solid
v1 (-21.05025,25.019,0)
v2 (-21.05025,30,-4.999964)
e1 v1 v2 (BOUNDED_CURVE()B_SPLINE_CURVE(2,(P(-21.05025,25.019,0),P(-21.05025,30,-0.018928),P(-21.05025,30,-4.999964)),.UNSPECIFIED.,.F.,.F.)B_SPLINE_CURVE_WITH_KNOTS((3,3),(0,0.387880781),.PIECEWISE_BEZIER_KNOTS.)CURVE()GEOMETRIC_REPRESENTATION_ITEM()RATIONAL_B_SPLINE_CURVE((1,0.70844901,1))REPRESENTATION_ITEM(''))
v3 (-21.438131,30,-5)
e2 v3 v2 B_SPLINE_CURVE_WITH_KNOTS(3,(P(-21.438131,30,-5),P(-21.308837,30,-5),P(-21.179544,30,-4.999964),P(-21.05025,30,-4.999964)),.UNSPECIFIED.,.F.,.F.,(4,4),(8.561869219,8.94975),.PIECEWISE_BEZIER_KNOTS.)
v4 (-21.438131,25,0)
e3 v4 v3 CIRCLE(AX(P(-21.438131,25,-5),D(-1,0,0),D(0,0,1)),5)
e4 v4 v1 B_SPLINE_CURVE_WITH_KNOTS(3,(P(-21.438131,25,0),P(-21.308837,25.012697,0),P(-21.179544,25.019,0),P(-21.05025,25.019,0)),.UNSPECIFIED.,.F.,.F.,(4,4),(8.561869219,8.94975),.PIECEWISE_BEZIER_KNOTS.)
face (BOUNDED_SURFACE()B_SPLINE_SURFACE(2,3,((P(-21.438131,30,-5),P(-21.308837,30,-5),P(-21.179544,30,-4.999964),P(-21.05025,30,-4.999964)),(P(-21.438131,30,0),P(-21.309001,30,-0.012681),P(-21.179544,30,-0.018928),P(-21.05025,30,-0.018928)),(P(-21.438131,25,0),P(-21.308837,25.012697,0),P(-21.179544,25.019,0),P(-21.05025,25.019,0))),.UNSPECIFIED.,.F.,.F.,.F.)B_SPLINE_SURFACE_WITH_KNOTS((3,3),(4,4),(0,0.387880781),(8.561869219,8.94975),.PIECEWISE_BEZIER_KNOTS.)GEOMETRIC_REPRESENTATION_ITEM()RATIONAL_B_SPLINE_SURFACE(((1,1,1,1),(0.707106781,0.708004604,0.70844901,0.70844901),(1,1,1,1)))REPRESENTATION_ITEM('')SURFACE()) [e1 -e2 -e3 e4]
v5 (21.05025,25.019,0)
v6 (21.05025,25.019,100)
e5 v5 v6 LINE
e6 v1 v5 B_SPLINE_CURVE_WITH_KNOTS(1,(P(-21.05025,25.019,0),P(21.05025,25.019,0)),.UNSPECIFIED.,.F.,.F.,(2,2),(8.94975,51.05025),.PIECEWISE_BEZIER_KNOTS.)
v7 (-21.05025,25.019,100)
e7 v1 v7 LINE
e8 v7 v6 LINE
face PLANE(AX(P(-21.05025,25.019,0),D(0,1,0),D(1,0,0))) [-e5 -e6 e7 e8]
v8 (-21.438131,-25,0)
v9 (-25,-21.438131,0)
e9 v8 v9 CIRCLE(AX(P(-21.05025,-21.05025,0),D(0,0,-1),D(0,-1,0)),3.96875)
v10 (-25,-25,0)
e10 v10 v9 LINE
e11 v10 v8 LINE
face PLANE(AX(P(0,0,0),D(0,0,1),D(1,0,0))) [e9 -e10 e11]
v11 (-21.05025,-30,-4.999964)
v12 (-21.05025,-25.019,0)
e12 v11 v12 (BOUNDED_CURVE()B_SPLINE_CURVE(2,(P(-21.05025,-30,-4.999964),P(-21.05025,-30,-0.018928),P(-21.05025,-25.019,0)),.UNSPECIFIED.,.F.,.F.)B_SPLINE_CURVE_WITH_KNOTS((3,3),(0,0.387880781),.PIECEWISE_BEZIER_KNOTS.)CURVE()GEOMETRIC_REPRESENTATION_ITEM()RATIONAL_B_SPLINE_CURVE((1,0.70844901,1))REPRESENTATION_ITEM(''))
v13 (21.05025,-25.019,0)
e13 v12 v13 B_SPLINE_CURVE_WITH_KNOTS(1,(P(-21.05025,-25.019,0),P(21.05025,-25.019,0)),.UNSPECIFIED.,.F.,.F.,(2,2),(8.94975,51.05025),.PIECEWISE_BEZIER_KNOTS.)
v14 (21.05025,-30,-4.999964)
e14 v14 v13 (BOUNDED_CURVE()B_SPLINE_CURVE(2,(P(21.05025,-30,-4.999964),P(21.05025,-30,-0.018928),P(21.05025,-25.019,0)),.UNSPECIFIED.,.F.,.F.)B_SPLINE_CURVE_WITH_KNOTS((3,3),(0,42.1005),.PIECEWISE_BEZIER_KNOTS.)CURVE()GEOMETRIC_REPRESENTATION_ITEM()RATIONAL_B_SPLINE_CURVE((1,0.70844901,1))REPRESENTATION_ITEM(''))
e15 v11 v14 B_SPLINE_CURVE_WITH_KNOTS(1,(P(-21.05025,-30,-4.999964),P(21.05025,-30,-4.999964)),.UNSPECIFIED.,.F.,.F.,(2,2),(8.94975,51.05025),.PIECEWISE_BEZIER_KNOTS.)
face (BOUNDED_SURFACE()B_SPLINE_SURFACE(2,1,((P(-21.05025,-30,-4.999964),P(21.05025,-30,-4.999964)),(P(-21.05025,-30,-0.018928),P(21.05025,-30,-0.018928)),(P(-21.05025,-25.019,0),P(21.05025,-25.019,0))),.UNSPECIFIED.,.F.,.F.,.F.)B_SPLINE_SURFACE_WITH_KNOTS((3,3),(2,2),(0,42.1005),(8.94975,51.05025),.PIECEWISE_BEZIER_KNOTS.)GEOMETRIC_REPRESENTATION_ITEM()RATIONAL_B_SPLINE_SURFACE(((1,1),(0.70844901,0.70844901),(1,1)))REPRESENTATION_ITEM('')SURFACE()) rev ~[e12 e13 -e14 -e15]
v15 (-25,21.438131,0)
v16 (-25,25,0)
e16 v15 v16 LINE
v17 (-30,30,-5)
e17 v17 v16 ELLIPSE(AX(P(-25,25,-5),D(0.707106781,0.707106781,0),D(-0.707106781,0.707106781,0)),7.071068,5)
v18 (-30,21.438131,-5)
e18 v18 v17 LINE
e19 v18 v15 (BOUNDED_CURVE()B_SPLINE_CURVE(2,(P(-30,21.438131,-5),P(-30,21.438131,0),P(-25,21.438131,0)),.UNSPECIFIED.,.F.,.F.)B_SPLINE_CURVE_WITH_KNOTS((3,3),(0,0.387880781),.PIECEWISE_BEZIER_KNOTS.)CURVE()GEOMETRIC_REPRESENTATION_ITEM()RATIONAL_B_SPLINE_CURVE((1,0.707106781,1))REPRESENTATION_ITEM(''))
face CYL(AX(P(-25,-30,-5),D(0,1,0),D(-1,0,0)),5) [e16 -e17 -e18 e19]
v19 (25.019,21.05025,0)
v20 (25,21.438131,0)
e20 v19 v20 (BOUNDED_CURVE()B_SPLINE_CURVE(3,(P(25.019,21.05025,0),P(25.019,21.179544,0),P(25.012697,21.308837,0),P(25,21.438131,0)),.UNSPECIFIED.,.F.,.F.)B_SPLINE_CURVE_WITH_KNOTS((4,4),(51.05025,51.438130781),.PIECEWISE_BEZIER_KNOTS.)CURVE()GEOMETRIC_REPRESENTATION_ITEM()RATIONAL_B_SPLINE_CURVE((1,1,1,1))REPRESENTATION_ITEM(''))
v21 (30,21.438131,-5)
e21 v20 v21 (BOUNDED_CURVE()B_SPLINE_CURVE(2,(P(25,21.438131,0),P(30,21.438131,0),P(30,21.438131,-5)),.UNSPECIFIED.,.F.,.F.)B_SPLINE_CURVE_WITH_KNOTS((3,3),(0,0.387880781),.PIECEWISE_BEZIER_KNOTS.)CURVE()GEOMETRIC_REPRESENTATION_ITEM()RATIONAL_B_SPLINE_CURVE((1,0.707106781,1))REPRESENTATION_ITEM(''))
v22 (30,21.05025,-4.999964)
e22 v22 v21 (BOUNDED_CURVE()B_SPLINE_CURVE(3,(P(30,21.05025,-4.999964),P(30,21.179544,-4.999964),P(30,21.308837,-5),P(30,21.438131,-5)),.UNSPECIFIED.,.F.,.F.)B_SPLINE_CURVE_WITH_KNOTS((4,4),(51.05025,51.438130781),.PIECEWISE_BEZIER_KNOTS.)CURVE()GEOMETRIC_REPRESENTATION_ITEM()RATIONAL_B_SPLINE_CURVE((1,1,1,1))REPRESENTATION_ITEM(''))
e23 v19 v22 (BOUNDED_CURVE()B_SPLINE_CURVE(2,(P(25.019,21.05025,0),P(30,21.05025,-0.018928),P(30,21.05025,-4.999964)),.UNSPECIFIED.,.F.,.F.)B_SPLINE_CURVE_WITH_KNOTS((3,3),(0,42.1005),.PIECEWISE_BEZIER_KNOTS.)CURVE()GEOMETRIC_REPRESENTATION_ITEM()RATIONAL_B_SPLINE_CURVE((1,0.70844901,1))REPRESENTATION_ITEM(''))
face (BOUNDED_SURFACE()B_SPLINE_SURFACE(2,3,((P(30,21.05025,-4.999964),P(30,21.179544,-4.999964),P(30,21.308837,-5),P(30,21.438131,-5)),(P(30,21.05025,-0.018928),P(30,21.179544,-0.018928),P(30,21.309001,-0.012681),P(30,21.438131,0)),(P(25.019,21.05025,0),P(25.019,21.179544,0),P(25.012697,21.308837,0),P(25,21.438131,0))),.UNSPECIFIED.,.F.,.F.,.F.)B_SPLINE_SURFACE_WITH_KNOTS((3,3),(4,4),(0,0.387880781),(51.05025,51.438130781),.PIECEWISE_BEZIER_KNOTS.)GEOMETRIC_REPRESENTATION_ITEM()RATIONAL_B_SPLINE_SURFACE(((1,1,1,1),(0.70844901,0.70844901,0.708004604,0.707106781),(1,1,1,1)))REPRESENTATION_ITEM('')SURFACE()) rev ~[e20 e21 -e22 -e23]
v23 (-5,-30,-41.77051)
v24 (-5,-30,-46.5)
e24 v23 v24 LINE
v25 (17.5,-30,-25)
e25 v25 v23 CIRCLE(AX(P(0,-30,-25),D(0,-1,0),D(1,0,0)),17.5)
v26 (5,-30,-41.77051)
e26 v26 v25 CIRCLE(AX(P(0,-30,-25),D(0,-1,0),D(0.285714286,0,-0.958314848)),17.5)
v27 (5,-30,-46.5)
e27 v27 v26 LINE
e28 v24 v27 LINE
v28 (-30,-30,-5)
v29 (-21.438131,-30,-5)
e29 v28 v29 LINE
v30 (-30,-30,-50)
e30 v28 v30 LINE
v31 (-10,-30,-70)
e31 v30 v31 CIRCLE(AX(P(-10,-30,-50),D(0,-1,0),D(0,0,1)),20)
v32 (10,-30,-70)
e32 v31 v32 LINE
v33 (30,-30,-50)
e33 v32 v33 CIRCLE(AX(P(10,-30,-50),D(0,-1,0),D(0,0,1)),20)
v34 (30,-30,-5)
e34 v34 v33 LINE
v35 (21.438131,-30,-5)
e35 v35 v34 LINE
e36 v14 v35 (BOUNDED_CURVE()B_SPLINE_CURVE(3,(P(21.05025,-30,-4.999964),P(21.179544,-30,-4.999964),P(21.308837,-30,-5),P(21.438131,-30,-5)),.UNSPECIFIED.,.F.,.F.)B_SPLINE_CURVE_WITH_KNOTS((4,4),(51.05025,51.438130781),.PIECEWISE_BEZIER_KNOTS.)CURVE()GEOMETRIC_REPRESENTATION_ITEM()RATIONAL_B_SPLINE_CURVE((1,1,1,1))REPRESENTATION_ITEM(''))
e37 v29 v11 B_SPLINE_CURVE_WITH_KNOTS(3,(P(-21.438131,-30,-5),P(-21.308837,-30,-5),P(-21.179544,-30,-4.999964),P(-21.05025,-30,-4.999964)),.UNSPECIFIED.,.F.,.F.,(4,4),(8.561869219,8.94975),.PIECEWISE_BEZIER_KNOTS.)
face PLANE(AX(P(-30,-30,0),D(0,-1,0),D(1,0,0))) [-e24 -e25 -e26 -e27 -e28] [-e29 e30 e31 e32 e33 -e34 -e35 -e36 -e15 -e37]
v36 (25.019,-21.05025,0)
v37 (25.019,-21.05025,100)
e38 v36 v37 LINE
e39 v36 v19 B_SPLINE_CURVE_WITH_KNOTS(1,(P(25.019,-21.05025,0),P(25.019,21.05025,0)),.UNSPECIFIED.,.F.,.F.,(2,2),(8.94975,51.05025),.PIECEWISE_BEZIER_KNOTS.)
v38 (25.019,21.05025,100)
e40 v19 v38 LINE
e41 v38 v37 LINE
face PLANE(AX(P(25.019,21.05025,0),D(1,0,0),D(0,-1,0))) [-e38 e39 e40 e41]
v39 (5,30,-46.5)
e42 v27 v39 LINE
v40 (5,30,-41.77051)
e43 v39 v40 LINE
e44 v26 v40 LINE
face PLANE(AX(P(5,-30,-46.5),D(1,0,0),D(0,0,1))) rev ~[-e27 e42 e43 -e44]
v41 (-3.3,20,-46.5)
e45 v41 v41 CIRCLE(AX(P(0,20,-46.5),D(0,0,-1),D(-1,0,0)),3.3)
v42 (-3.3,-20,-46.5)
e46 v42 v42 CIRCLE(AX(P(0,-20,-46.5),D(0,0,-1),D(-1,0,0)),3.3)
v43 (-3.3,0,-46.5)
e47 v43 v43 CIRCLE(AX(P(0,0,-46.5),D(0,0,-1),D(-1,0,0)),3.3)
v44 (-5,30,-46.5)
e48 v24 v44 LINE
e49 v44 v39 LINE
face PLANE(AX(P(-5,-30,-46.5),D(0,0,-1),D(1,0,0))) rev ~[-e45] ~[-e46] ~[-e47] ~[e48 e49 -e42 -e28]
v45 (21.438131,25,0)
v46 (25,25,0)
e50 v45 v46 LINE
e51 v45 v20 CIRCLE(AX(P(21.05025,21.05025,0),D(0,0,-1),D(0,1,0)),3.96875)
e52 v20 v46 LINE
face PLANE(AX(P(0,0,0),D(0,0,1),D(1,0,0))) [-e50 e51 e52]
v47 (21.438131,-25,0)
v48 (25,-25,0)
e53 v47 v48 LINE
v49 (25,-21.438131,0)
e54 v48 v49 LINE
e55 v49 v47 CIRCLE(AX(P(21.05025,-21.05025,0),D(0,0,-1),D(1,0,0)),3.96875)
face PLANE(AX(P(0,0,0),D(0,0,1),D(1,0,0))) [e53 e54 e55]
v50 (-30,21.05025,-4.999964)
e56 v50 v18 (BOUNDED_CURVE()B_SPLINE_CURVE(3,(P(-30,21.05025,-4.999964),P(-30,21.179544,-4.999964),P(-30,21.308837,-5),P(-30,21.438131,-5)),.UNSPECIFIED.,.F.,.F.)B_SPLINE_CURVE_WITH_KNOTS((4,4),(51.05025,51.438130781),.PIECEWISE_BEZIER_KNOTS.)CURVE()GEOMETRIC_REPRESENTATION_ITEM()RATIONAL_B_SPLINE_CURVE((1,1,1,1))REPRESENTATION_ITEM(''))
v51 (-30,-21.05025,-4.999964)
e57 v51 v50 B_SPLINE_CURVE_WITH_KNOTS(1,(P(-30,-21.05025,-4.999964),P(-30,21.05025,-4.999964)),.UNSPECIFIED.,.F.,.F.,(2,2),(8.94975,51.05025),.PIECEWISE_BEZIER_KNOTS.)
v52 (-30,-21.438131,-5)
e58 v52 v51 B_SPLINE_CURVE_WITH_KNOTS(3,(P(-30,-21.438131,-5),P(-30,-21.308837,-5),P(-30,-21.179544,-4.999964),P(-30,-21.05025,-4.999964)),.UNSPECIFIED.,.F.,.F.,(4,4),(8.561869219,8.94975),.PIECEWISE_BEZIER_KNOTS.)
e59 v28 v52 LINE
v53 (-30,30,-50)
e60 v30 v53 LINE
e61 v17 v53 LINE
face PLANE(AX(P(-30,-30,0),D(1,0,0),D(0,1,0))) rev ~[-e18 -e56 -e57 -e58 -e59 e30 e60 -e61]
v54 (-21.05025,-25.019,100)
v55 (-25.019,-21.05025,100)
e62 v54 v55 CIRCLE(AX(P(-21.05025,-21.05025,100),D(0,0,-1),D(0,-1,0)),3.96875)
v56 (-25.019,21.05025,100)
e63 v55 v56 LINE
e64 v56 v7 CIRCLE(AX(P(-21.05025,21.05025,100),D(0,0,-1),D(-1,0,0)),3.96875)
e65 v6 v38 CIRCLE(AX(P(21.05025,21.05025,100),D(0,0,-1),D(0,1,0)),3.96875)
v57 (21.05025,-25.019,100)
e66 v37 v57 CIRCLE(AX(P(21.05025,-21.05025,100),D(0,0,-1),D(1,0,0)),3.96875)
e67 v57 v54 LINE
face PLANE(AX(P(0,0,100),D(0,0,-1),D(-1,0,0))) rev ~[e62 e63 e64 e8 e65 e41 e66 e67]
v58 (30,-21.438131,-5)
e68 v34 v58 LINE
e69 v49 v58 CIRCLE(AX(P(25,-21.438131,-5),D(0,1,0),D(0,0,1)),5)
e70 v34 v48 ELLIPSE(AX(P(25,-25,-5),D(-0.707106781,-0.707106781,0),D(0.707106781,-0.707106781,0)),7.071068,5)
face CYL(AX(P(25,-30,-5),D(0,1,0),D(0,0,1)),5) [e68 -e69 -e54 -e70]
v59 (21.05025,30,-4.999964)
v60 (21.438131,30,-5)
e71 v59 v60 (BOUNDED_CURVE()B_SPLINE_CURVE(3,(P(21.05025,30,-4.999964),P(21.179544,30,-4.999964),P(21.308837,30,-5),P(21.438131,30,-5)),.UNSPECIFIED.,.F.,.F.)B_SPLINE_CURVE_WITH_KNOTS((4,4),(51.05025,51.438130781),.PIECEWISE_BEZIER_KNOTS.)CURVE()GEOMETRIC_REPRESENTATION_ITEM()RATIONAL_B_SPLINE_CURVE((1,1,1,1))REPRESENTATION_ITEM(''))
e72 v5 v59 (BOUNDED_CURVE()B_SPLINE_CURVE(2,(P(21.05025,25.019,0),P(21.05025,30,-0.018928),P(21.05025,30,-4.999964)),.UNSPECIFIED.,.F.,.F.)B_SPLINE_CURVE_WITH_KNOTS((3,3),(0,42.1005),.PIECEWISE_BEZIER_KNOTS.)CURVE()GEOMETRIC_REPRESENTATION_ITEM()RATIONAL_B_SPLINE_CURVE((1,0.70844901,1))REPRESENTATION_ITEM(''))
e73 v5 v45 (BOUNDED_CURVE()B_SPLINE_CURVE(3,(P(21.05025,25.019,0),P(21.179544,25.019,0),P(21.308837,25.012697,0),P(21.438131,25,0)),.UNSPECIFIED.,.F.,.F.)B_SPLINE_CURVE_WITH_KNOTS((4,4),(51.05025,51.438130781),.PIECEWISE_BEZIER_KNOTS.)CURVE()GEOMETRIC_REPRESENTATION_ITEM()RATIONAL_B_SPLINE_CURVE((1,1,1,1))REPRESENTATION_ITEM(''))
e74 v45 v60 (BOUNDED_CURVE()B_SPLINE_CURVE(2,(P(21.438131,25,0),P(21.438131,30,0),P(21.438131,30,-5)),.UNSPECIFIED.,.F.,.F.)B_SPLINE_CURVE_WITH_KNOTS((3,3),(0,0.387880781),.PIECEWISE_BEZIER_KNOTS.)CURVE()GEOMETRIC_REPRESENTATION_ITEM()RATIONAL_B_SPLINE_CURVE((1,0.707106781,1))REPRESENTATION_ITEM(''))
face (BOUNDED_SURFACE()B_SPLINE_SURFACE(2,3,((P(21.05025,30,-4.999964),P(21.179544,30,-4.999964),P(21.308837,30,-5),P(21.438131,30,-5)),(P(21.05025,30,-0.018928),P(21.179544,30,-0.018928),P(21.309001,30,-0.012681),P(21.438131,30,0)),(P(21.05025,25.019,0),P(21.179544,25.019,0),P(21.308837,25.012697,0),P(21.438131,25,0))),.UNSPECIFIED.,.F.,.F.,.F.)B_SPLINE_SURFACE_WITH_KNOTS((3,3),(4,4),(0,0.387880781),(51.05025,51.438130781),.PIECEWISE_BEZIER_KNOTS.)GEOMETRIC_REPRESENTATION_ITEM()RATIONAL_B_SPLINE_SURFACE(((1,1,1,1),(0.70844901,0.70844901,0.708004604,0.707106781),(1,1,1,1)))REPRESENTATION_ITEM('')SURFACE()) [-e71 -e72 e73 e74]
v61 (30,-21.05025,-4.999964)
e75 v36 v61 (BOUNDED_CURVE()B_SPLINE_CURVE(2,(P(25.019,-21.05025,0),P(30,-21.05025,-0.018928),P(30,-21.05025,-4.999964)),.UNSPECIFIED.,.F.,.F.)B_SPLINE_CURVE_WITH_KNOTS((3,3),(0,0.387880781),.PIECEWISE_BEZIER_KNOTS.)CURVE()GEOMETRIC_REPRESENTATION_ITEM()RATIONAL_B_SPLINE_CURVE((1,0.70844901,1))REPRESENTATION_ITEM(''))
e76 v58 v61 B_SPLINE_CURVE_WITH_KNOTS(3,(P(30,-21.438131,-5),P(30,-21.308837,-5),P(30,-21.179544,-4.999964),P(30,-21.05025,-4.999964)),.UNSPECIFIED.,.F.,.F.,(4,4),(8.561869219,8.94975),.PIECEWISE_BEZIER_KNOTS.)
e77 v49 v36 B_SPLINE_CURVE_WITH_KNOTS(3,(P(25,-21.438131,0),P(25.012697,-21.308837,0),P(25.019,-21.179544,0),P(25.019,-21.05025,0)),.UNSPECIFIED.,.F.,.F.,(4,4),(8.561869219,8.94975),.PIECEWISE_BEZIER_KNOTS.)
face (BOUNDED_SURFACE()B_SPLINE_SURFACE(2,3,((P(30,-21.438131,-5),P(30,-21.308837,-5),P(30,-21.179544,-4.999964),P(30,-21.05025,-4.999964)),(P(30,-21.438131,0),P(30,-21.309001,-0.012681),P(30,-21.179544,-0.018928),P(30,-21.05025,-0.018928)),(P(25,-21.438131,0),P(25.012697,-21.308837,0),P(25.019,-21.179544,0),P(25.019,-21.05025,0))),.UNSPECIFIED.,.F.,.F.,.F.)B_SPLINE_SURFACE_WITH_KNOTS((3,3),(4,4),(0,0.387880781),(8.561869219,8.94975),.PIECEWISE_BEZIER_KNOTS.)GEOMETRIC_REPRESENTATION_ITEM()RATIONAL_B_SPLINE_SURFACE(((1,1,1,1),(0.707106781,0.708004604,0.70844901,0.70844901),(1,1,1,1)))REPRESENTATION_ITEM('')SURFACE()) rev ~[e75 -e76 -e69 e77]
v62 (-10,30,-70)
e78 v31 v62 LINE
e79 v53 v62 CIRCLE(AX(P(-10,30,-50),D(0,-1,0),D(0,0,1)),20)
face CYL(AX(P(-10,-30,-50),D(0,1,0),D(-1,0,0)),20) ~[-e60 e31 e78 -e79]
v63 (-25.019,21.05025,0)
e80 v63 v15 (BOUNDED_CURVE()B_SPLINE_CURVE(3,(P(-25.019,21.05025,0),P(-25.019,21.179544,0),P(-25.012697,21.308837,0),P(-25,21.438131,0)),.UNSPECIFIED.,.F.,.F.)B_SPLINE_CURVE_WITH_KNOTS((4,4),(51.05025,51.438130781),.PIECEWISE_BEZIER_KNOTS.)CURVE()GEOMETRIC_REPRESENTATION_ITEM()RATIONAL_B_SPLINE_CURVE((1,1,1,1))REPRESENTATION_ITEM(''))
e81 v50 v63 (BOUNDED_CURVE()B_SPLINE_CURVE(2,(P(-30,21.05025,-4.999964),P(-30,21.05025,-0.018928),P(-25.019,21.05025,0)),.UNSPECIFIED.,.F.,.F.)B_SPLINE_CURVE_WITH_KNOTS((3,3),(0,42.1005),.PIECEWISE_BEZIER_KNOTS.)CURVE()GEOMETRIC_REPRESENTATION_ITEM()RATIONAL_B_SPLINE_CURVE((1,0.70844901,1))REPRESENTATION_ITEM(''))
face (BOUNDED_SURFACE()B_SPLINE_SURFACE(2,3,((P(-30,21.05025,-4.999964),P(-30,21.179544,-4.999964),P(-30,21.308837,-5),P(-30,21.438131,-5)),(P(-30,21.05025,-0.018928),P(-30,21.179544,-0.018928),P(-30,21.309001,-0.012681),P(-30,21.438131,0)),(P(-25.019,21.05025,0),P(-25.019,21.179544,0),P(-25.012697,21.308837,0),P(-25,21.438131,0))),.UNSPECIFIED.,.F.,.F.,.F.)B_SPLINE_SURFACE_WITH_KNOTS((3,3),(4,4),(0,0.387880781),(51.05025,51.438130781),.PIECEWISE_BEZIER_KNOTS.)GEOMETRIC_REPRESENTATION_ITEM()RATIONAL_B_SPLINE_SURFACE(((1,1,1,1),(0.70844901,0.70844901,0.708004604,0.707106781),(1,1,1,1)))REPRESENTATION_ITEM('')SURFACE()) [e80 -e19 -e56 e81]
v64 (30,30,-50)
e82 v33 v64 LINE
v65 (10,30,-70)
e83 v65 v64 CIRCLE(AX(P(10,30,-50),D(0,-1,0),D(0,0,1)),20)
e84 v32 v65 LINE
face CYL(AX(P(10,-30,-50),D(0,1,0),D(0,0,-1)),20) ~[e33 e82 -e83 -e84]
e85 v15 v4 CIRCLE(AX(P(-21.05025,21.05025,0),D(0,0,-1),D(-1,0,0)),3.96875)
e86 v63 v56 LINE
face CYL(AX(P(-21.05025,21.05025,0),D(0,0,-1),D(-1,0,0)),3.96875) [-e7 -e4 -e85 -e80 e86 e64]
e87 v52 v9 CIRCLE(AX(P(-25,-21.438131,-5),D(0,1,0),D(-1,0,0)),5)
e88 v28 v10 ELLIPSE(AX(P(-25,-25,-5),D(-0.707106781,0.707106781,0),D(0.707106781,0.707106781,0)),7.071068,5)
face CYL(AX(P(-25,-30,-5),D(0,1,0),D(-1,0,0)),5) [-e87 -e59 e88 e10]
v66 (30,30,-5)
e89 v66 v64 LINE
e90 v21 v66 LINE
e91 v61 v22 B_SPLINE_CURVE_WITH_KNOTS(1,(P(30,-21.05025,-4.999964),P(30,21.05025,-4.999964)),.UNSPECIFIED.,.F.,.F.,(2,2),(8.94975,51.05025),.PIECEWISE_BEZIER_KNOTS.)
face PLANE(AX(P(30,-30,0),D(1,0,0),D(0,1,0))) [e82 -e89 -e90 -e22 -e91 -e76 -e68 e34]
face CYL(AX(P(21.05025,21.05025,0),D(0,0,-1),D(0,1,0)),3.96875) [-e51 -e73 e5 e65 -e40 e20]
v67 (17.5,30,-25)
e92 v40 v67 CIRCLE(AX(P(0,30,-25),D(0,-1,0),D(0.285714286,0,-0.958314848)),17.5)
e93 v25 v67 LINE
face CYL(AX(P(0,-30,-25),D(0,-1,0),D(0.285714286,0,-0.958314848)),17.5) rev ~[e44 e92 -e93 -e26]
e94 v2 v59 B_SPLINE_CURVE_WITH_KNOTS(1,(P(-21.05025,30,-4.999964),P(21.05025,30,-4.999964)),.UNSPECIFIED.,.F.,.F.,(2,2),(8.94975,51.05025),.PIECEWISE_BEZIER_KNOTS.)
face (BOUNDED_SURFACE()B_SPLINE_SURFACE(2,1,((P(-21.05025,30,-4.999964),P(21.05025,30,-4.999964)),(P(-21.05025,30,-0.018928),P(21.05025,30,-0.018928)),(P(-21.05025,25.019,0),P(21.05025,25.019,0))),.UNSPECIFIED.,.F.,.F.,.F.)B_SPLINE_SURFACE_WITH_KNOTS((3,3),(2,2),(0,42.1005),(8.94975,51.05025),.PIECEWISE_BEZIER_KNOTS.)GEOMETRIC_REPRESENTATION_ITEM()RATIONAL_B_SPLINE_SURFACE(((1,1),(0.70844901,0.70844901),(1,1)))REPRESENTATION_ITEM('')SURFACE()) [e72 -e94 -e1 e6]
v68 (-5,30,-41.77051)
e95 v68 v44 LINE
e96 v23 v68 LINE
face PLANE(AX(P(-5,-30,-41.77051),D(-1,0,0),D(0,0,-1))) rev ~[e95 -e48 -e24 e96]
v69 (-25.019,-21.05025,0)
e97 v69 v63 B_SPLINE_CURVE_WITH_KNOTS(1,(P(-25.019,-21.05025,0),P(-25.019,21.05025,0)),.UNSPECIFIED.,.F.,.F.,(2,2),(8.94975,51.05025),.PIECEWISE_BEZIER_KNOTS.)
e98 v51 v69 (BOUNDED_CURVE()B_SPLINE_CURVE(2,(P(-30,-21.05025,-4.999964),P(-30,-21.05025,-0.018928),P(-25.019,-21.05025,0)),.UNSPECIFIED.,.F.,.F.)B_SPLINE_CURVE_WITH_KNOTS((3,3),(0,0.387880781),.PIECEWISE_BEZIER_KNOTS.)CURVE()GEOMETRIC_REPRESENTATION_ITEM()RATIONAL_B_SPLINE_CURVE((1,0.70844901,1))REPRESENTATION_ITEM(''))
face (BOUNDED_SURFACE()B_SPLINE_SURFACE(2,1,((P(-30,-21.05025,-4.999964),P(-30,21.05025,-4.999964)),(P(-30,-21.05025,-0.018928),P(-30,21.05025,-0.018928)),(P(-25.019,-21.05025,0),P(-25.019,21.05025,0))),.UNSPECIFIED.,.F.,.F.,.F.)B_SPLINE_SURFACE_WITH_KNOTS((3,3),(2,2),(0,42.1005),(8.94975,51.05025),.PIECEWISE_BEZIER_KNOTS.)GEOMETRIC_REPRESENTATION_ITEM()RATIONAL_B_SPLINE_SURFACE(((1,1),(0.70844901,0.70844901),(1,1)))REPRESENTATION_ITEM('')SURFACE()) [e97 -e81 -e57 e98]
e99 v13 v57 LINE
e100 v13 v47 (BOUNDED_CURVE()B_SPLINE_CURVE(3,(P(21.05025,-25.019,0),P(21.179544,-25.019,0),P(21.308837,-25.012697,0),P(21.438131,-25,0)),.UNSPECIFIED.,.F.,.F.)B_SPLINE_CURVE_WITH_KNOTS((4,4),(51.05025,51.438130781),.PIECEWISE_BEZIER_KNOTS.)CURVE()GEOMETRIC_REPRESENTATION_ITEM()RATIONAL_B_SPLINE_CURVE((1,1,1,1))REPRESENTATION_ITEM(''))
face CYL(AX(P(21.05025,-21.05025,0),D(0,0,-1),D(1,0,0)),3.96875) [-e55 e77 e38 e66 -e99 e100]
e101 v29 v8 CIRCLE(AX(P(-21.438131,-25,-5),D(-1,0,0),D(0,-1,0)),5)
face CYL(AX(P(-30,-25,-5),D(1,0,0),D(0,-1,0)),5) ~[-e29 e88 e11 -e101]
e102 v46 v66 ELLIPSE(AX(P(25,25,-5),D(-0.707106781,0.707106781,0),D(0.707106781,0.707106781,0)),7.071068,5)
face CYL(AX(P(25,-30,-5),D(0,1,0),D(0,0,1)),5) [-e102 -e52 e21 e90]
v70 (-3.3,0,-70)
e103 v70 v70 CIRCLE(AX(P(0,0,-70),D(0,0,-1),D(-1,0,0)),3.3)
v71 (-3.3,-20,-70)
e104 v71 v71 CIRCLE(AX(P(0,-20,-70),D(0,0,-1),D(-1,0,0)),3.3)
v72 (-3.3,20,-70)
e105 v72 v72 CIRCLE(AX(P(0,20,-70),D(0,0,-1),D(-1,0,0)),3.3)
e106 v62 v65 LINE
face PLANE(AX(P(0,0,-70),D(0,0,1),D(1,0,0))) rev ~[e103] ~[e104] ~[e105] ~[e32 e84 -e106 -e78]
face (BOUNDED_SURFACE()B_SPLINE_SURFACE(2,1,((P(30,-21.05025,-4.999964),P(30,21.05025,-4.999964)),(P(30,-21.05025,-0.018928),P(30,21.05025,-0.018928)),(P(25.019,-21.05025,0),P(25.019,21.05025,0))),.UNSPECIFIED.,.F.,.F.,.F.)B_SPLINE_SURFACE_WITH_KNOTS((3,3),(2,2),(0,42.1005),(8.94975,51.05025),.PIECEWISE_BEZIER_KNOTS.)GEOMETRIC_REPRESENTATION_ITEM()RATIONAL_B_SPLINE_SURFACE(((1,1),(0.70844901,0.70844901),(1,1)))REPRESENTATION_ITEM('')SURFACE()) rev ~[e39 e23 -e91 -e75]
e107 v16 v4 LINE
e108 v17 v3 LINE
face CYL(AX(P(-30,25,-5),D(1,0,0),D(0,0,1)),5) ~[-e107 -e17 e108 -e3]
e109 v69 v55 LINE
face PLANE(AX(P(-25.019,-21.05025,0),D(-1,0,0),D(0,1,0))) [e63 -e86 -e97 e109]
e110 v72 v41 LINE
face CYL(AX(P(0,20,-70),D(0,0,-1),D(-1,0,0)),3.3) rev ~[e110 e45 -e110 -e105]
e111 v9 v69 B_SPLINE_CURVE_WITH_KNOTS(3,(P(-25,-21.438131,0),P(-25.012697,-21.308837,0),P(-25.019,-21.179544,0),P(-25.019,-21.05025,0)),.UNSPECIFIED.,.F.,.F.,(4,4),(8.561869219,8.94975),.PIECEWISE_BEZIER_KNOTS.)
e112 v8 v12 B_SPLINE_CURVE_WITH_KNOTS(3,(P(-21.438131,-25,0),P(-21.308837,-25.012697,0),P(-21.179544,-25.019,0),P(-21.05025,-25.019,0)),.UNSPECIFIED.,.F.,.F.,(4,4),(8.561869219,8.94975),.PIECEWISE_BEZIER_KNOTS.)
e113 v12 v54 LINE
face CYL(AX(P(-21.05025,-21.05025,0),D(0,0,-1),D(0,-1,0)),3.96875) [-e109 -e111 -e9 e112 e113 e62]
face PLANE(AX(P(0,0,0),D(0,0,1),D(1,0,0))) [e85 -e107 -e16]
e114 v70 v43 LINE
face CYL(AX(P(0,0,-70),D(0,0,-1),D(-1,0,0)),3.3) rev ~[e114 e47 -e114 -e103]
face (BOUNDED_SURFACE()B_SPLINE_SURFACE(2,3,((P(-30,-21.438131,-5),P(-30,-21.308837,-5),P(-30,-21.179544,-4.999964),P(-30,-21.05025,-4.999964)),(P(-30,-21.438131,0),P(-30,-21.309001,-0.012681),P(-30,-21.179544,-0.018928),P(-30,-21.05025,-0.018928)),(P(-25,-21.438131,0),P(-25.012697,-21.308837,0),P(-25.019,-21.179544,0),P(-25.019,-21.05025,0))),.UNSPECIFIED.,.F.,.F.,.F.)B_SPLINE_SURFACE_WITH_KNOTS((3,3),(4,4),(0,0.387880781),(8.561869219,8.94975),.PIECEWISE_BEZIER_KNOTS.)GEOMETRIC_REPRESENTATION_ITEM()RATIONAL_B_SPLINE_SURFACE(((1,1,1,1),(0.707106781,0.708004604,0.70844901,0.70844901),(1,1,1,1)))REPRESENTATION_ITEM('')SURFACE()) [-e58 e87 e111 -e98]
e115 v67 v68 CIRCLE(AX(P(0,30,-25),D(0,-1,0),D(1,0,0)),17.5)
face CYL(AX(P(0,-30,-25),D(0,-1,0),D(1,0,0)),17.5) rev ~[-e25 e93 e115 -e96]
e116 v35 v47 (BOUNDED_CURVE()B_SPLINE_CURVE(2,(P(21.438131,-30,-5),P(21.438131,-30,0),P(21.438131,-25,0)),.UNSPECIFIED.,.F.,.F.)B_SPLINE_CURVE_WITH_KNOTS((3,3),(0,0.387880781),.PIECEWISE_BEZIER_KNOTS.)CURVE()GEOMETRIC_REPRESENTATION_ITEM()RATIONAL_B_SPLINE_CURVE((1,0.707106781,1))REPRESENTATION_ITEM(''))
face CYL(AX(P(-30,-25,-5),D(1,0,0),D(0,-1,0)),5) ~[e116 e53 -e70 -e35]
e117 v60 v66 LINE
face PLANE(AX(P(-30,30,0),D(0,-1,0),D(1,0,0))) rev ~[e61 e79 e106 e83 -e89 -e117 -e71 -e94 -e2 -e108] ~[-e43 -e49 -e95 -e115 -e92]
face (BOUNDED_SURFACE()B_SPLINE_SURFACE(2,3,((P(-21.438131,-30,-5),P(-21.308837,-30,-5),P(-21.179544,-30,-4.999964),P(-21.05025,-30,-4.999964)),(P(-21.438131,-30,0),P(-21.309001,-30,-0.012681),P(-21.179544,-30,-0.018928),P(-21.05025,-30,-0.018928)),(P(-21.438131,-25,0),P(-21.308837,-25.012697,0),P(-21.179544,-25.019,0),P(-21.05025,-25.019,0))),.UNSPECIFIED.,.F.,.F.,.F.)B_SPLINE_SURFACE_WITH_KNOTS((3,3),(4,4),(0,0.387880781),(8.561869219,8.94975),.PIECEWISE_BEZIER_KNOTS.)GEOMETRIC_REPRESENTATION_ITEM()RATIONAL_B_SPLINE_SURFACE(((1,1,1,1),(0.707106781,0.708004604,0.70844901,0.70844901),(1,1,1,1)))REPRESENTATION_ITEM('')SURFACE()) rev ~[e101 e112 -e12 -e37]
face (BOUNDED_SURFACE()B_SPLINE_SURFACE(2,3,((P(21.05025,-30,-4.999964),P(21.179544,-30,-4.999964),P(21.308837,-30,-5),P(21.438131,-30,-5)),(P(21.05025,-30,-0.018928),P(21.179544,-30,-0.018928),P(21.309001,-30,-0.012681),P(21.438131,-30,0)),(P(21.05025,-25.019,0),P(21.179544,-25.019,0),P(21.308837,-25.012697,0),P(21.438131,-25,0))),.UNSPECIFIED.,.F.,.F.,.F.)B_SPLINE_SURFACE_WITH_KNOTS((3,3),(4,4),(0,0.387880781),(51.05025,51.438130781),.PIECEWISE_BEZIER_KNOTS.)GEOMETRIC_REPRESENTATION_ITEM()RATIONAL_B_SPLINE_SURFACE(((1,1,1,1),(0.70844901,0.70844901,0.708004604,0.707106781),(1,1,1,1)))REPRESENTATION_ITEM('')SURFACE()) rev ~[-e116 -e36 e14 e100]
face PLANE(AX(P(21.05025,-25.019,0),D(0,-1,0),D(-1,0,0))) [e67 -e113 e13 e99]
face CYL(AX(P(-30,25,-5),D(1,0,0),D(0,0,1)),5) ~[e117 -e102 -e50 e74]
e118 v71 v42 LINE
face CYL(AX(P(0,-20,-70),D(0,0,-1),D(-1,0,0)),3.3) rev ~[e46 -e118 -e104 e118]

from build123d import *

# Parameters (mm, degrees)
BOSS_EXTRUDE1_DEPTH       = 100
SKETCH2_W                 = 60
SKETCH2_H                 = 60
BOSS_EXTRUDE2_DEPTH       = 70
CUT_EXTRUDE2_DEPTH        = 60
CUT_EXTRUDE3_DEPTH        = 60
M6_CLEARANCE_HOLE1_REACH  = 177.214
M6_CLEARANCE_HOLE1_BORE_R = 3.3
FILLET1_R                 = 20
FILLET2_R                 = 5


with BuildPart() as part:
    # Sketch1 → Boss-Extrude1 (new body)
    with BuildSketch(Plane.XY):
        with BuildLine():
            Line((25.019, 21.05025), (25.019, -21.05025))
            ThreePointArc((25.019, -21.05025), (23.856580038, -23.856580038), (21.05025, -25.019))
            Line((21.05025, -25.019), (-21.05025, -25.019))
            ThreePointArc((-21.05025, -25.019), (-23.856580038, -23.856580038), (-25.019, -21.05025))
            Line((-25.019, -21.05025), (-25.019, 21.05025))
            ThreePointArc((-25.019, 21.05025), (-23.856580038, 23.856580038), (-21.05025, 25.019))
            Line((-21.05025, 25.019), (21.05025, 25.019))
            ThreePointArc((21.05025, 25.019), (23.856580038, 23.856580038), (25.019, 21.05025))
        make_face()
    extrude(amount=BOSS_EXTRUDE1_DEPTH)

    # Sketch2 → Boss-Extrude2 (add)
    with BuildSketch(Plane.XY):
        Rectangle(SKETCH2_W, SKETCH2_H)
    extrude(amount=-BOSS_EXTRUDE2_DEPTH)

    # Sketch3 → Cut-Extrude2 (cut)
    with BuildSketch(Plane.XZ.offset(30)):
        with BuildLine():
            ThreePointArc((17.5, -25), (-10.458250332, -10.9687848), (-5, -41.770509831))
            Line((-5, -41.770509831), (-5, -38.5))
            Line((-5, -38.5), (5, -38.5))
            Line((5, -38.5), (5, -41.770509831))
            ThreePointArc((5, -41.770509831), (14.0312152, -35.458250332), (17.5, -25))
        make_face()
        with BuildLine():
            Line((-5, -38.5), (-5, -41.770509831))
            ThreePointArc((-5, -41.770509831), (0, -42.5), (5, -41.770509831))
            Line((5, -41.770509831), (5, -38.5))
            Line((5, -38.5), (-5, -38.5))
        make_face()
    extrude(amount=-CUT_EXTRUDE2_DEPTH, mode=Mode.SUBTRACT)

    # Sketch3<7> → Cut-Extrude3 (cut)
    with BuildSketch(Plane.XZ.offset(30)):
        with BuildLine():
            Line((-5, -41.770509831), (-5, -46.5))
            Line((-5, -46.5), (5, -46.5))
            Line((5, -46.5), (5, -41.770509831))
            ThreePointArc((5, -41.770509831), (0, -42.5), (-5, -41.770509831))
        make_face()
    extrude(amount=-CUT_EXTRUDE3_DEPTH, mode=Mode.SUBTRACT)

    # M6 Clearance Hole1 bore → M6 Clearance Hole1 (cut, up to next)
    with BuildSketch(Plane(origin=(0, 0, -70), x_dir=(-1, 0, 0), z_dir=(0, 0, -1)), mode=Mode.PRIVATE) as m6_clearance_hole1_sk1:
        with Locations((0, 20)):
            Circle(M6_CLEARANCE_HOLE1_BORE_R)
    m6_clearance_hole1_tool1 = extrude(m6_clearance_hole1_sk1.sketch, amount=-M6_CLEARANCE_HOLE1_REACH, mode=Mode.PRIVATE) & part.part
    # M6 Clearance Hole1 bore → M6 Clearance Hole1 (cut, up to next)
    with BuildSketch(Plane(origin=(0, 0, -70), x_dir=(-1, 0, 0), z_dir=(0, 0, -1)), mode=Mode.PRIVATE) as m6_clearance_hole1_sk2:
        Circle(M6_CLEARANCE_HOLE1_BORE_R)
    m6_clearance_hole1_tool2 = extrude(m6_clearance_hole1_sk2.sketch, amount=-M6_CLEARANCE_HOLE1_REACH, mode=Mode.PRIVATE) & part.part
    # M6 Clearance Hole1 bore → M6 Clearance Hole1 (cut, up to next)
    with BuildSketch(Plane(origin=(0, 0, -70), x_dir=(-1, 0, 0), z_dir=(0, 0, -1)), mode=Mode.PRIVATE) as m6_clearance_hole1_sk3:
        with Locations((0, -20)):
            Circle(M6_CLEARANCE_HOLE1_BORE_R)
    m6_clearance_hole1_tool3 = extrude(m6_clearance_hole1_sk3.sketch, amount=-M6_CLEARANCE_HOLE1_REACH, mode=Mode.PRIVATE) & part.part
    add(m6_clearance_hole1_tool1.solids().sort_by_distance((0, 20, -70))[0], mode=Mode.SUBTRACT)
    add(m6_clearance_hole1_tool2.solids().sort_by_distance((0, 0, -70))[0], mode=Mode.SUBTRACT)
    add(m6_clearance_hole1_tool3.solids().sort_by_distance((0, -20, -70))[0], mode=Mode.SUBTRACT)

    # Fillet1
    fillet1_edges = [part.edges().sort_by_distance(p)[0] for p in [
        (-30, 0, -70),
        (30, 0, -70),
    ]]
    fillet(fillet1_edges, radius=FILLET1_R)

    # Fillet2
    fillet2_edges = [part.edges().sort_by_distance(p)[0] for p in [
        (-30, 0, 0),
        (0, -30, 0),
        (30, 0, 0),
        (0, 30, 0),
    ]]
    fillet(fillet2_edges, radius=FILLET2_R)


solid = part.part
